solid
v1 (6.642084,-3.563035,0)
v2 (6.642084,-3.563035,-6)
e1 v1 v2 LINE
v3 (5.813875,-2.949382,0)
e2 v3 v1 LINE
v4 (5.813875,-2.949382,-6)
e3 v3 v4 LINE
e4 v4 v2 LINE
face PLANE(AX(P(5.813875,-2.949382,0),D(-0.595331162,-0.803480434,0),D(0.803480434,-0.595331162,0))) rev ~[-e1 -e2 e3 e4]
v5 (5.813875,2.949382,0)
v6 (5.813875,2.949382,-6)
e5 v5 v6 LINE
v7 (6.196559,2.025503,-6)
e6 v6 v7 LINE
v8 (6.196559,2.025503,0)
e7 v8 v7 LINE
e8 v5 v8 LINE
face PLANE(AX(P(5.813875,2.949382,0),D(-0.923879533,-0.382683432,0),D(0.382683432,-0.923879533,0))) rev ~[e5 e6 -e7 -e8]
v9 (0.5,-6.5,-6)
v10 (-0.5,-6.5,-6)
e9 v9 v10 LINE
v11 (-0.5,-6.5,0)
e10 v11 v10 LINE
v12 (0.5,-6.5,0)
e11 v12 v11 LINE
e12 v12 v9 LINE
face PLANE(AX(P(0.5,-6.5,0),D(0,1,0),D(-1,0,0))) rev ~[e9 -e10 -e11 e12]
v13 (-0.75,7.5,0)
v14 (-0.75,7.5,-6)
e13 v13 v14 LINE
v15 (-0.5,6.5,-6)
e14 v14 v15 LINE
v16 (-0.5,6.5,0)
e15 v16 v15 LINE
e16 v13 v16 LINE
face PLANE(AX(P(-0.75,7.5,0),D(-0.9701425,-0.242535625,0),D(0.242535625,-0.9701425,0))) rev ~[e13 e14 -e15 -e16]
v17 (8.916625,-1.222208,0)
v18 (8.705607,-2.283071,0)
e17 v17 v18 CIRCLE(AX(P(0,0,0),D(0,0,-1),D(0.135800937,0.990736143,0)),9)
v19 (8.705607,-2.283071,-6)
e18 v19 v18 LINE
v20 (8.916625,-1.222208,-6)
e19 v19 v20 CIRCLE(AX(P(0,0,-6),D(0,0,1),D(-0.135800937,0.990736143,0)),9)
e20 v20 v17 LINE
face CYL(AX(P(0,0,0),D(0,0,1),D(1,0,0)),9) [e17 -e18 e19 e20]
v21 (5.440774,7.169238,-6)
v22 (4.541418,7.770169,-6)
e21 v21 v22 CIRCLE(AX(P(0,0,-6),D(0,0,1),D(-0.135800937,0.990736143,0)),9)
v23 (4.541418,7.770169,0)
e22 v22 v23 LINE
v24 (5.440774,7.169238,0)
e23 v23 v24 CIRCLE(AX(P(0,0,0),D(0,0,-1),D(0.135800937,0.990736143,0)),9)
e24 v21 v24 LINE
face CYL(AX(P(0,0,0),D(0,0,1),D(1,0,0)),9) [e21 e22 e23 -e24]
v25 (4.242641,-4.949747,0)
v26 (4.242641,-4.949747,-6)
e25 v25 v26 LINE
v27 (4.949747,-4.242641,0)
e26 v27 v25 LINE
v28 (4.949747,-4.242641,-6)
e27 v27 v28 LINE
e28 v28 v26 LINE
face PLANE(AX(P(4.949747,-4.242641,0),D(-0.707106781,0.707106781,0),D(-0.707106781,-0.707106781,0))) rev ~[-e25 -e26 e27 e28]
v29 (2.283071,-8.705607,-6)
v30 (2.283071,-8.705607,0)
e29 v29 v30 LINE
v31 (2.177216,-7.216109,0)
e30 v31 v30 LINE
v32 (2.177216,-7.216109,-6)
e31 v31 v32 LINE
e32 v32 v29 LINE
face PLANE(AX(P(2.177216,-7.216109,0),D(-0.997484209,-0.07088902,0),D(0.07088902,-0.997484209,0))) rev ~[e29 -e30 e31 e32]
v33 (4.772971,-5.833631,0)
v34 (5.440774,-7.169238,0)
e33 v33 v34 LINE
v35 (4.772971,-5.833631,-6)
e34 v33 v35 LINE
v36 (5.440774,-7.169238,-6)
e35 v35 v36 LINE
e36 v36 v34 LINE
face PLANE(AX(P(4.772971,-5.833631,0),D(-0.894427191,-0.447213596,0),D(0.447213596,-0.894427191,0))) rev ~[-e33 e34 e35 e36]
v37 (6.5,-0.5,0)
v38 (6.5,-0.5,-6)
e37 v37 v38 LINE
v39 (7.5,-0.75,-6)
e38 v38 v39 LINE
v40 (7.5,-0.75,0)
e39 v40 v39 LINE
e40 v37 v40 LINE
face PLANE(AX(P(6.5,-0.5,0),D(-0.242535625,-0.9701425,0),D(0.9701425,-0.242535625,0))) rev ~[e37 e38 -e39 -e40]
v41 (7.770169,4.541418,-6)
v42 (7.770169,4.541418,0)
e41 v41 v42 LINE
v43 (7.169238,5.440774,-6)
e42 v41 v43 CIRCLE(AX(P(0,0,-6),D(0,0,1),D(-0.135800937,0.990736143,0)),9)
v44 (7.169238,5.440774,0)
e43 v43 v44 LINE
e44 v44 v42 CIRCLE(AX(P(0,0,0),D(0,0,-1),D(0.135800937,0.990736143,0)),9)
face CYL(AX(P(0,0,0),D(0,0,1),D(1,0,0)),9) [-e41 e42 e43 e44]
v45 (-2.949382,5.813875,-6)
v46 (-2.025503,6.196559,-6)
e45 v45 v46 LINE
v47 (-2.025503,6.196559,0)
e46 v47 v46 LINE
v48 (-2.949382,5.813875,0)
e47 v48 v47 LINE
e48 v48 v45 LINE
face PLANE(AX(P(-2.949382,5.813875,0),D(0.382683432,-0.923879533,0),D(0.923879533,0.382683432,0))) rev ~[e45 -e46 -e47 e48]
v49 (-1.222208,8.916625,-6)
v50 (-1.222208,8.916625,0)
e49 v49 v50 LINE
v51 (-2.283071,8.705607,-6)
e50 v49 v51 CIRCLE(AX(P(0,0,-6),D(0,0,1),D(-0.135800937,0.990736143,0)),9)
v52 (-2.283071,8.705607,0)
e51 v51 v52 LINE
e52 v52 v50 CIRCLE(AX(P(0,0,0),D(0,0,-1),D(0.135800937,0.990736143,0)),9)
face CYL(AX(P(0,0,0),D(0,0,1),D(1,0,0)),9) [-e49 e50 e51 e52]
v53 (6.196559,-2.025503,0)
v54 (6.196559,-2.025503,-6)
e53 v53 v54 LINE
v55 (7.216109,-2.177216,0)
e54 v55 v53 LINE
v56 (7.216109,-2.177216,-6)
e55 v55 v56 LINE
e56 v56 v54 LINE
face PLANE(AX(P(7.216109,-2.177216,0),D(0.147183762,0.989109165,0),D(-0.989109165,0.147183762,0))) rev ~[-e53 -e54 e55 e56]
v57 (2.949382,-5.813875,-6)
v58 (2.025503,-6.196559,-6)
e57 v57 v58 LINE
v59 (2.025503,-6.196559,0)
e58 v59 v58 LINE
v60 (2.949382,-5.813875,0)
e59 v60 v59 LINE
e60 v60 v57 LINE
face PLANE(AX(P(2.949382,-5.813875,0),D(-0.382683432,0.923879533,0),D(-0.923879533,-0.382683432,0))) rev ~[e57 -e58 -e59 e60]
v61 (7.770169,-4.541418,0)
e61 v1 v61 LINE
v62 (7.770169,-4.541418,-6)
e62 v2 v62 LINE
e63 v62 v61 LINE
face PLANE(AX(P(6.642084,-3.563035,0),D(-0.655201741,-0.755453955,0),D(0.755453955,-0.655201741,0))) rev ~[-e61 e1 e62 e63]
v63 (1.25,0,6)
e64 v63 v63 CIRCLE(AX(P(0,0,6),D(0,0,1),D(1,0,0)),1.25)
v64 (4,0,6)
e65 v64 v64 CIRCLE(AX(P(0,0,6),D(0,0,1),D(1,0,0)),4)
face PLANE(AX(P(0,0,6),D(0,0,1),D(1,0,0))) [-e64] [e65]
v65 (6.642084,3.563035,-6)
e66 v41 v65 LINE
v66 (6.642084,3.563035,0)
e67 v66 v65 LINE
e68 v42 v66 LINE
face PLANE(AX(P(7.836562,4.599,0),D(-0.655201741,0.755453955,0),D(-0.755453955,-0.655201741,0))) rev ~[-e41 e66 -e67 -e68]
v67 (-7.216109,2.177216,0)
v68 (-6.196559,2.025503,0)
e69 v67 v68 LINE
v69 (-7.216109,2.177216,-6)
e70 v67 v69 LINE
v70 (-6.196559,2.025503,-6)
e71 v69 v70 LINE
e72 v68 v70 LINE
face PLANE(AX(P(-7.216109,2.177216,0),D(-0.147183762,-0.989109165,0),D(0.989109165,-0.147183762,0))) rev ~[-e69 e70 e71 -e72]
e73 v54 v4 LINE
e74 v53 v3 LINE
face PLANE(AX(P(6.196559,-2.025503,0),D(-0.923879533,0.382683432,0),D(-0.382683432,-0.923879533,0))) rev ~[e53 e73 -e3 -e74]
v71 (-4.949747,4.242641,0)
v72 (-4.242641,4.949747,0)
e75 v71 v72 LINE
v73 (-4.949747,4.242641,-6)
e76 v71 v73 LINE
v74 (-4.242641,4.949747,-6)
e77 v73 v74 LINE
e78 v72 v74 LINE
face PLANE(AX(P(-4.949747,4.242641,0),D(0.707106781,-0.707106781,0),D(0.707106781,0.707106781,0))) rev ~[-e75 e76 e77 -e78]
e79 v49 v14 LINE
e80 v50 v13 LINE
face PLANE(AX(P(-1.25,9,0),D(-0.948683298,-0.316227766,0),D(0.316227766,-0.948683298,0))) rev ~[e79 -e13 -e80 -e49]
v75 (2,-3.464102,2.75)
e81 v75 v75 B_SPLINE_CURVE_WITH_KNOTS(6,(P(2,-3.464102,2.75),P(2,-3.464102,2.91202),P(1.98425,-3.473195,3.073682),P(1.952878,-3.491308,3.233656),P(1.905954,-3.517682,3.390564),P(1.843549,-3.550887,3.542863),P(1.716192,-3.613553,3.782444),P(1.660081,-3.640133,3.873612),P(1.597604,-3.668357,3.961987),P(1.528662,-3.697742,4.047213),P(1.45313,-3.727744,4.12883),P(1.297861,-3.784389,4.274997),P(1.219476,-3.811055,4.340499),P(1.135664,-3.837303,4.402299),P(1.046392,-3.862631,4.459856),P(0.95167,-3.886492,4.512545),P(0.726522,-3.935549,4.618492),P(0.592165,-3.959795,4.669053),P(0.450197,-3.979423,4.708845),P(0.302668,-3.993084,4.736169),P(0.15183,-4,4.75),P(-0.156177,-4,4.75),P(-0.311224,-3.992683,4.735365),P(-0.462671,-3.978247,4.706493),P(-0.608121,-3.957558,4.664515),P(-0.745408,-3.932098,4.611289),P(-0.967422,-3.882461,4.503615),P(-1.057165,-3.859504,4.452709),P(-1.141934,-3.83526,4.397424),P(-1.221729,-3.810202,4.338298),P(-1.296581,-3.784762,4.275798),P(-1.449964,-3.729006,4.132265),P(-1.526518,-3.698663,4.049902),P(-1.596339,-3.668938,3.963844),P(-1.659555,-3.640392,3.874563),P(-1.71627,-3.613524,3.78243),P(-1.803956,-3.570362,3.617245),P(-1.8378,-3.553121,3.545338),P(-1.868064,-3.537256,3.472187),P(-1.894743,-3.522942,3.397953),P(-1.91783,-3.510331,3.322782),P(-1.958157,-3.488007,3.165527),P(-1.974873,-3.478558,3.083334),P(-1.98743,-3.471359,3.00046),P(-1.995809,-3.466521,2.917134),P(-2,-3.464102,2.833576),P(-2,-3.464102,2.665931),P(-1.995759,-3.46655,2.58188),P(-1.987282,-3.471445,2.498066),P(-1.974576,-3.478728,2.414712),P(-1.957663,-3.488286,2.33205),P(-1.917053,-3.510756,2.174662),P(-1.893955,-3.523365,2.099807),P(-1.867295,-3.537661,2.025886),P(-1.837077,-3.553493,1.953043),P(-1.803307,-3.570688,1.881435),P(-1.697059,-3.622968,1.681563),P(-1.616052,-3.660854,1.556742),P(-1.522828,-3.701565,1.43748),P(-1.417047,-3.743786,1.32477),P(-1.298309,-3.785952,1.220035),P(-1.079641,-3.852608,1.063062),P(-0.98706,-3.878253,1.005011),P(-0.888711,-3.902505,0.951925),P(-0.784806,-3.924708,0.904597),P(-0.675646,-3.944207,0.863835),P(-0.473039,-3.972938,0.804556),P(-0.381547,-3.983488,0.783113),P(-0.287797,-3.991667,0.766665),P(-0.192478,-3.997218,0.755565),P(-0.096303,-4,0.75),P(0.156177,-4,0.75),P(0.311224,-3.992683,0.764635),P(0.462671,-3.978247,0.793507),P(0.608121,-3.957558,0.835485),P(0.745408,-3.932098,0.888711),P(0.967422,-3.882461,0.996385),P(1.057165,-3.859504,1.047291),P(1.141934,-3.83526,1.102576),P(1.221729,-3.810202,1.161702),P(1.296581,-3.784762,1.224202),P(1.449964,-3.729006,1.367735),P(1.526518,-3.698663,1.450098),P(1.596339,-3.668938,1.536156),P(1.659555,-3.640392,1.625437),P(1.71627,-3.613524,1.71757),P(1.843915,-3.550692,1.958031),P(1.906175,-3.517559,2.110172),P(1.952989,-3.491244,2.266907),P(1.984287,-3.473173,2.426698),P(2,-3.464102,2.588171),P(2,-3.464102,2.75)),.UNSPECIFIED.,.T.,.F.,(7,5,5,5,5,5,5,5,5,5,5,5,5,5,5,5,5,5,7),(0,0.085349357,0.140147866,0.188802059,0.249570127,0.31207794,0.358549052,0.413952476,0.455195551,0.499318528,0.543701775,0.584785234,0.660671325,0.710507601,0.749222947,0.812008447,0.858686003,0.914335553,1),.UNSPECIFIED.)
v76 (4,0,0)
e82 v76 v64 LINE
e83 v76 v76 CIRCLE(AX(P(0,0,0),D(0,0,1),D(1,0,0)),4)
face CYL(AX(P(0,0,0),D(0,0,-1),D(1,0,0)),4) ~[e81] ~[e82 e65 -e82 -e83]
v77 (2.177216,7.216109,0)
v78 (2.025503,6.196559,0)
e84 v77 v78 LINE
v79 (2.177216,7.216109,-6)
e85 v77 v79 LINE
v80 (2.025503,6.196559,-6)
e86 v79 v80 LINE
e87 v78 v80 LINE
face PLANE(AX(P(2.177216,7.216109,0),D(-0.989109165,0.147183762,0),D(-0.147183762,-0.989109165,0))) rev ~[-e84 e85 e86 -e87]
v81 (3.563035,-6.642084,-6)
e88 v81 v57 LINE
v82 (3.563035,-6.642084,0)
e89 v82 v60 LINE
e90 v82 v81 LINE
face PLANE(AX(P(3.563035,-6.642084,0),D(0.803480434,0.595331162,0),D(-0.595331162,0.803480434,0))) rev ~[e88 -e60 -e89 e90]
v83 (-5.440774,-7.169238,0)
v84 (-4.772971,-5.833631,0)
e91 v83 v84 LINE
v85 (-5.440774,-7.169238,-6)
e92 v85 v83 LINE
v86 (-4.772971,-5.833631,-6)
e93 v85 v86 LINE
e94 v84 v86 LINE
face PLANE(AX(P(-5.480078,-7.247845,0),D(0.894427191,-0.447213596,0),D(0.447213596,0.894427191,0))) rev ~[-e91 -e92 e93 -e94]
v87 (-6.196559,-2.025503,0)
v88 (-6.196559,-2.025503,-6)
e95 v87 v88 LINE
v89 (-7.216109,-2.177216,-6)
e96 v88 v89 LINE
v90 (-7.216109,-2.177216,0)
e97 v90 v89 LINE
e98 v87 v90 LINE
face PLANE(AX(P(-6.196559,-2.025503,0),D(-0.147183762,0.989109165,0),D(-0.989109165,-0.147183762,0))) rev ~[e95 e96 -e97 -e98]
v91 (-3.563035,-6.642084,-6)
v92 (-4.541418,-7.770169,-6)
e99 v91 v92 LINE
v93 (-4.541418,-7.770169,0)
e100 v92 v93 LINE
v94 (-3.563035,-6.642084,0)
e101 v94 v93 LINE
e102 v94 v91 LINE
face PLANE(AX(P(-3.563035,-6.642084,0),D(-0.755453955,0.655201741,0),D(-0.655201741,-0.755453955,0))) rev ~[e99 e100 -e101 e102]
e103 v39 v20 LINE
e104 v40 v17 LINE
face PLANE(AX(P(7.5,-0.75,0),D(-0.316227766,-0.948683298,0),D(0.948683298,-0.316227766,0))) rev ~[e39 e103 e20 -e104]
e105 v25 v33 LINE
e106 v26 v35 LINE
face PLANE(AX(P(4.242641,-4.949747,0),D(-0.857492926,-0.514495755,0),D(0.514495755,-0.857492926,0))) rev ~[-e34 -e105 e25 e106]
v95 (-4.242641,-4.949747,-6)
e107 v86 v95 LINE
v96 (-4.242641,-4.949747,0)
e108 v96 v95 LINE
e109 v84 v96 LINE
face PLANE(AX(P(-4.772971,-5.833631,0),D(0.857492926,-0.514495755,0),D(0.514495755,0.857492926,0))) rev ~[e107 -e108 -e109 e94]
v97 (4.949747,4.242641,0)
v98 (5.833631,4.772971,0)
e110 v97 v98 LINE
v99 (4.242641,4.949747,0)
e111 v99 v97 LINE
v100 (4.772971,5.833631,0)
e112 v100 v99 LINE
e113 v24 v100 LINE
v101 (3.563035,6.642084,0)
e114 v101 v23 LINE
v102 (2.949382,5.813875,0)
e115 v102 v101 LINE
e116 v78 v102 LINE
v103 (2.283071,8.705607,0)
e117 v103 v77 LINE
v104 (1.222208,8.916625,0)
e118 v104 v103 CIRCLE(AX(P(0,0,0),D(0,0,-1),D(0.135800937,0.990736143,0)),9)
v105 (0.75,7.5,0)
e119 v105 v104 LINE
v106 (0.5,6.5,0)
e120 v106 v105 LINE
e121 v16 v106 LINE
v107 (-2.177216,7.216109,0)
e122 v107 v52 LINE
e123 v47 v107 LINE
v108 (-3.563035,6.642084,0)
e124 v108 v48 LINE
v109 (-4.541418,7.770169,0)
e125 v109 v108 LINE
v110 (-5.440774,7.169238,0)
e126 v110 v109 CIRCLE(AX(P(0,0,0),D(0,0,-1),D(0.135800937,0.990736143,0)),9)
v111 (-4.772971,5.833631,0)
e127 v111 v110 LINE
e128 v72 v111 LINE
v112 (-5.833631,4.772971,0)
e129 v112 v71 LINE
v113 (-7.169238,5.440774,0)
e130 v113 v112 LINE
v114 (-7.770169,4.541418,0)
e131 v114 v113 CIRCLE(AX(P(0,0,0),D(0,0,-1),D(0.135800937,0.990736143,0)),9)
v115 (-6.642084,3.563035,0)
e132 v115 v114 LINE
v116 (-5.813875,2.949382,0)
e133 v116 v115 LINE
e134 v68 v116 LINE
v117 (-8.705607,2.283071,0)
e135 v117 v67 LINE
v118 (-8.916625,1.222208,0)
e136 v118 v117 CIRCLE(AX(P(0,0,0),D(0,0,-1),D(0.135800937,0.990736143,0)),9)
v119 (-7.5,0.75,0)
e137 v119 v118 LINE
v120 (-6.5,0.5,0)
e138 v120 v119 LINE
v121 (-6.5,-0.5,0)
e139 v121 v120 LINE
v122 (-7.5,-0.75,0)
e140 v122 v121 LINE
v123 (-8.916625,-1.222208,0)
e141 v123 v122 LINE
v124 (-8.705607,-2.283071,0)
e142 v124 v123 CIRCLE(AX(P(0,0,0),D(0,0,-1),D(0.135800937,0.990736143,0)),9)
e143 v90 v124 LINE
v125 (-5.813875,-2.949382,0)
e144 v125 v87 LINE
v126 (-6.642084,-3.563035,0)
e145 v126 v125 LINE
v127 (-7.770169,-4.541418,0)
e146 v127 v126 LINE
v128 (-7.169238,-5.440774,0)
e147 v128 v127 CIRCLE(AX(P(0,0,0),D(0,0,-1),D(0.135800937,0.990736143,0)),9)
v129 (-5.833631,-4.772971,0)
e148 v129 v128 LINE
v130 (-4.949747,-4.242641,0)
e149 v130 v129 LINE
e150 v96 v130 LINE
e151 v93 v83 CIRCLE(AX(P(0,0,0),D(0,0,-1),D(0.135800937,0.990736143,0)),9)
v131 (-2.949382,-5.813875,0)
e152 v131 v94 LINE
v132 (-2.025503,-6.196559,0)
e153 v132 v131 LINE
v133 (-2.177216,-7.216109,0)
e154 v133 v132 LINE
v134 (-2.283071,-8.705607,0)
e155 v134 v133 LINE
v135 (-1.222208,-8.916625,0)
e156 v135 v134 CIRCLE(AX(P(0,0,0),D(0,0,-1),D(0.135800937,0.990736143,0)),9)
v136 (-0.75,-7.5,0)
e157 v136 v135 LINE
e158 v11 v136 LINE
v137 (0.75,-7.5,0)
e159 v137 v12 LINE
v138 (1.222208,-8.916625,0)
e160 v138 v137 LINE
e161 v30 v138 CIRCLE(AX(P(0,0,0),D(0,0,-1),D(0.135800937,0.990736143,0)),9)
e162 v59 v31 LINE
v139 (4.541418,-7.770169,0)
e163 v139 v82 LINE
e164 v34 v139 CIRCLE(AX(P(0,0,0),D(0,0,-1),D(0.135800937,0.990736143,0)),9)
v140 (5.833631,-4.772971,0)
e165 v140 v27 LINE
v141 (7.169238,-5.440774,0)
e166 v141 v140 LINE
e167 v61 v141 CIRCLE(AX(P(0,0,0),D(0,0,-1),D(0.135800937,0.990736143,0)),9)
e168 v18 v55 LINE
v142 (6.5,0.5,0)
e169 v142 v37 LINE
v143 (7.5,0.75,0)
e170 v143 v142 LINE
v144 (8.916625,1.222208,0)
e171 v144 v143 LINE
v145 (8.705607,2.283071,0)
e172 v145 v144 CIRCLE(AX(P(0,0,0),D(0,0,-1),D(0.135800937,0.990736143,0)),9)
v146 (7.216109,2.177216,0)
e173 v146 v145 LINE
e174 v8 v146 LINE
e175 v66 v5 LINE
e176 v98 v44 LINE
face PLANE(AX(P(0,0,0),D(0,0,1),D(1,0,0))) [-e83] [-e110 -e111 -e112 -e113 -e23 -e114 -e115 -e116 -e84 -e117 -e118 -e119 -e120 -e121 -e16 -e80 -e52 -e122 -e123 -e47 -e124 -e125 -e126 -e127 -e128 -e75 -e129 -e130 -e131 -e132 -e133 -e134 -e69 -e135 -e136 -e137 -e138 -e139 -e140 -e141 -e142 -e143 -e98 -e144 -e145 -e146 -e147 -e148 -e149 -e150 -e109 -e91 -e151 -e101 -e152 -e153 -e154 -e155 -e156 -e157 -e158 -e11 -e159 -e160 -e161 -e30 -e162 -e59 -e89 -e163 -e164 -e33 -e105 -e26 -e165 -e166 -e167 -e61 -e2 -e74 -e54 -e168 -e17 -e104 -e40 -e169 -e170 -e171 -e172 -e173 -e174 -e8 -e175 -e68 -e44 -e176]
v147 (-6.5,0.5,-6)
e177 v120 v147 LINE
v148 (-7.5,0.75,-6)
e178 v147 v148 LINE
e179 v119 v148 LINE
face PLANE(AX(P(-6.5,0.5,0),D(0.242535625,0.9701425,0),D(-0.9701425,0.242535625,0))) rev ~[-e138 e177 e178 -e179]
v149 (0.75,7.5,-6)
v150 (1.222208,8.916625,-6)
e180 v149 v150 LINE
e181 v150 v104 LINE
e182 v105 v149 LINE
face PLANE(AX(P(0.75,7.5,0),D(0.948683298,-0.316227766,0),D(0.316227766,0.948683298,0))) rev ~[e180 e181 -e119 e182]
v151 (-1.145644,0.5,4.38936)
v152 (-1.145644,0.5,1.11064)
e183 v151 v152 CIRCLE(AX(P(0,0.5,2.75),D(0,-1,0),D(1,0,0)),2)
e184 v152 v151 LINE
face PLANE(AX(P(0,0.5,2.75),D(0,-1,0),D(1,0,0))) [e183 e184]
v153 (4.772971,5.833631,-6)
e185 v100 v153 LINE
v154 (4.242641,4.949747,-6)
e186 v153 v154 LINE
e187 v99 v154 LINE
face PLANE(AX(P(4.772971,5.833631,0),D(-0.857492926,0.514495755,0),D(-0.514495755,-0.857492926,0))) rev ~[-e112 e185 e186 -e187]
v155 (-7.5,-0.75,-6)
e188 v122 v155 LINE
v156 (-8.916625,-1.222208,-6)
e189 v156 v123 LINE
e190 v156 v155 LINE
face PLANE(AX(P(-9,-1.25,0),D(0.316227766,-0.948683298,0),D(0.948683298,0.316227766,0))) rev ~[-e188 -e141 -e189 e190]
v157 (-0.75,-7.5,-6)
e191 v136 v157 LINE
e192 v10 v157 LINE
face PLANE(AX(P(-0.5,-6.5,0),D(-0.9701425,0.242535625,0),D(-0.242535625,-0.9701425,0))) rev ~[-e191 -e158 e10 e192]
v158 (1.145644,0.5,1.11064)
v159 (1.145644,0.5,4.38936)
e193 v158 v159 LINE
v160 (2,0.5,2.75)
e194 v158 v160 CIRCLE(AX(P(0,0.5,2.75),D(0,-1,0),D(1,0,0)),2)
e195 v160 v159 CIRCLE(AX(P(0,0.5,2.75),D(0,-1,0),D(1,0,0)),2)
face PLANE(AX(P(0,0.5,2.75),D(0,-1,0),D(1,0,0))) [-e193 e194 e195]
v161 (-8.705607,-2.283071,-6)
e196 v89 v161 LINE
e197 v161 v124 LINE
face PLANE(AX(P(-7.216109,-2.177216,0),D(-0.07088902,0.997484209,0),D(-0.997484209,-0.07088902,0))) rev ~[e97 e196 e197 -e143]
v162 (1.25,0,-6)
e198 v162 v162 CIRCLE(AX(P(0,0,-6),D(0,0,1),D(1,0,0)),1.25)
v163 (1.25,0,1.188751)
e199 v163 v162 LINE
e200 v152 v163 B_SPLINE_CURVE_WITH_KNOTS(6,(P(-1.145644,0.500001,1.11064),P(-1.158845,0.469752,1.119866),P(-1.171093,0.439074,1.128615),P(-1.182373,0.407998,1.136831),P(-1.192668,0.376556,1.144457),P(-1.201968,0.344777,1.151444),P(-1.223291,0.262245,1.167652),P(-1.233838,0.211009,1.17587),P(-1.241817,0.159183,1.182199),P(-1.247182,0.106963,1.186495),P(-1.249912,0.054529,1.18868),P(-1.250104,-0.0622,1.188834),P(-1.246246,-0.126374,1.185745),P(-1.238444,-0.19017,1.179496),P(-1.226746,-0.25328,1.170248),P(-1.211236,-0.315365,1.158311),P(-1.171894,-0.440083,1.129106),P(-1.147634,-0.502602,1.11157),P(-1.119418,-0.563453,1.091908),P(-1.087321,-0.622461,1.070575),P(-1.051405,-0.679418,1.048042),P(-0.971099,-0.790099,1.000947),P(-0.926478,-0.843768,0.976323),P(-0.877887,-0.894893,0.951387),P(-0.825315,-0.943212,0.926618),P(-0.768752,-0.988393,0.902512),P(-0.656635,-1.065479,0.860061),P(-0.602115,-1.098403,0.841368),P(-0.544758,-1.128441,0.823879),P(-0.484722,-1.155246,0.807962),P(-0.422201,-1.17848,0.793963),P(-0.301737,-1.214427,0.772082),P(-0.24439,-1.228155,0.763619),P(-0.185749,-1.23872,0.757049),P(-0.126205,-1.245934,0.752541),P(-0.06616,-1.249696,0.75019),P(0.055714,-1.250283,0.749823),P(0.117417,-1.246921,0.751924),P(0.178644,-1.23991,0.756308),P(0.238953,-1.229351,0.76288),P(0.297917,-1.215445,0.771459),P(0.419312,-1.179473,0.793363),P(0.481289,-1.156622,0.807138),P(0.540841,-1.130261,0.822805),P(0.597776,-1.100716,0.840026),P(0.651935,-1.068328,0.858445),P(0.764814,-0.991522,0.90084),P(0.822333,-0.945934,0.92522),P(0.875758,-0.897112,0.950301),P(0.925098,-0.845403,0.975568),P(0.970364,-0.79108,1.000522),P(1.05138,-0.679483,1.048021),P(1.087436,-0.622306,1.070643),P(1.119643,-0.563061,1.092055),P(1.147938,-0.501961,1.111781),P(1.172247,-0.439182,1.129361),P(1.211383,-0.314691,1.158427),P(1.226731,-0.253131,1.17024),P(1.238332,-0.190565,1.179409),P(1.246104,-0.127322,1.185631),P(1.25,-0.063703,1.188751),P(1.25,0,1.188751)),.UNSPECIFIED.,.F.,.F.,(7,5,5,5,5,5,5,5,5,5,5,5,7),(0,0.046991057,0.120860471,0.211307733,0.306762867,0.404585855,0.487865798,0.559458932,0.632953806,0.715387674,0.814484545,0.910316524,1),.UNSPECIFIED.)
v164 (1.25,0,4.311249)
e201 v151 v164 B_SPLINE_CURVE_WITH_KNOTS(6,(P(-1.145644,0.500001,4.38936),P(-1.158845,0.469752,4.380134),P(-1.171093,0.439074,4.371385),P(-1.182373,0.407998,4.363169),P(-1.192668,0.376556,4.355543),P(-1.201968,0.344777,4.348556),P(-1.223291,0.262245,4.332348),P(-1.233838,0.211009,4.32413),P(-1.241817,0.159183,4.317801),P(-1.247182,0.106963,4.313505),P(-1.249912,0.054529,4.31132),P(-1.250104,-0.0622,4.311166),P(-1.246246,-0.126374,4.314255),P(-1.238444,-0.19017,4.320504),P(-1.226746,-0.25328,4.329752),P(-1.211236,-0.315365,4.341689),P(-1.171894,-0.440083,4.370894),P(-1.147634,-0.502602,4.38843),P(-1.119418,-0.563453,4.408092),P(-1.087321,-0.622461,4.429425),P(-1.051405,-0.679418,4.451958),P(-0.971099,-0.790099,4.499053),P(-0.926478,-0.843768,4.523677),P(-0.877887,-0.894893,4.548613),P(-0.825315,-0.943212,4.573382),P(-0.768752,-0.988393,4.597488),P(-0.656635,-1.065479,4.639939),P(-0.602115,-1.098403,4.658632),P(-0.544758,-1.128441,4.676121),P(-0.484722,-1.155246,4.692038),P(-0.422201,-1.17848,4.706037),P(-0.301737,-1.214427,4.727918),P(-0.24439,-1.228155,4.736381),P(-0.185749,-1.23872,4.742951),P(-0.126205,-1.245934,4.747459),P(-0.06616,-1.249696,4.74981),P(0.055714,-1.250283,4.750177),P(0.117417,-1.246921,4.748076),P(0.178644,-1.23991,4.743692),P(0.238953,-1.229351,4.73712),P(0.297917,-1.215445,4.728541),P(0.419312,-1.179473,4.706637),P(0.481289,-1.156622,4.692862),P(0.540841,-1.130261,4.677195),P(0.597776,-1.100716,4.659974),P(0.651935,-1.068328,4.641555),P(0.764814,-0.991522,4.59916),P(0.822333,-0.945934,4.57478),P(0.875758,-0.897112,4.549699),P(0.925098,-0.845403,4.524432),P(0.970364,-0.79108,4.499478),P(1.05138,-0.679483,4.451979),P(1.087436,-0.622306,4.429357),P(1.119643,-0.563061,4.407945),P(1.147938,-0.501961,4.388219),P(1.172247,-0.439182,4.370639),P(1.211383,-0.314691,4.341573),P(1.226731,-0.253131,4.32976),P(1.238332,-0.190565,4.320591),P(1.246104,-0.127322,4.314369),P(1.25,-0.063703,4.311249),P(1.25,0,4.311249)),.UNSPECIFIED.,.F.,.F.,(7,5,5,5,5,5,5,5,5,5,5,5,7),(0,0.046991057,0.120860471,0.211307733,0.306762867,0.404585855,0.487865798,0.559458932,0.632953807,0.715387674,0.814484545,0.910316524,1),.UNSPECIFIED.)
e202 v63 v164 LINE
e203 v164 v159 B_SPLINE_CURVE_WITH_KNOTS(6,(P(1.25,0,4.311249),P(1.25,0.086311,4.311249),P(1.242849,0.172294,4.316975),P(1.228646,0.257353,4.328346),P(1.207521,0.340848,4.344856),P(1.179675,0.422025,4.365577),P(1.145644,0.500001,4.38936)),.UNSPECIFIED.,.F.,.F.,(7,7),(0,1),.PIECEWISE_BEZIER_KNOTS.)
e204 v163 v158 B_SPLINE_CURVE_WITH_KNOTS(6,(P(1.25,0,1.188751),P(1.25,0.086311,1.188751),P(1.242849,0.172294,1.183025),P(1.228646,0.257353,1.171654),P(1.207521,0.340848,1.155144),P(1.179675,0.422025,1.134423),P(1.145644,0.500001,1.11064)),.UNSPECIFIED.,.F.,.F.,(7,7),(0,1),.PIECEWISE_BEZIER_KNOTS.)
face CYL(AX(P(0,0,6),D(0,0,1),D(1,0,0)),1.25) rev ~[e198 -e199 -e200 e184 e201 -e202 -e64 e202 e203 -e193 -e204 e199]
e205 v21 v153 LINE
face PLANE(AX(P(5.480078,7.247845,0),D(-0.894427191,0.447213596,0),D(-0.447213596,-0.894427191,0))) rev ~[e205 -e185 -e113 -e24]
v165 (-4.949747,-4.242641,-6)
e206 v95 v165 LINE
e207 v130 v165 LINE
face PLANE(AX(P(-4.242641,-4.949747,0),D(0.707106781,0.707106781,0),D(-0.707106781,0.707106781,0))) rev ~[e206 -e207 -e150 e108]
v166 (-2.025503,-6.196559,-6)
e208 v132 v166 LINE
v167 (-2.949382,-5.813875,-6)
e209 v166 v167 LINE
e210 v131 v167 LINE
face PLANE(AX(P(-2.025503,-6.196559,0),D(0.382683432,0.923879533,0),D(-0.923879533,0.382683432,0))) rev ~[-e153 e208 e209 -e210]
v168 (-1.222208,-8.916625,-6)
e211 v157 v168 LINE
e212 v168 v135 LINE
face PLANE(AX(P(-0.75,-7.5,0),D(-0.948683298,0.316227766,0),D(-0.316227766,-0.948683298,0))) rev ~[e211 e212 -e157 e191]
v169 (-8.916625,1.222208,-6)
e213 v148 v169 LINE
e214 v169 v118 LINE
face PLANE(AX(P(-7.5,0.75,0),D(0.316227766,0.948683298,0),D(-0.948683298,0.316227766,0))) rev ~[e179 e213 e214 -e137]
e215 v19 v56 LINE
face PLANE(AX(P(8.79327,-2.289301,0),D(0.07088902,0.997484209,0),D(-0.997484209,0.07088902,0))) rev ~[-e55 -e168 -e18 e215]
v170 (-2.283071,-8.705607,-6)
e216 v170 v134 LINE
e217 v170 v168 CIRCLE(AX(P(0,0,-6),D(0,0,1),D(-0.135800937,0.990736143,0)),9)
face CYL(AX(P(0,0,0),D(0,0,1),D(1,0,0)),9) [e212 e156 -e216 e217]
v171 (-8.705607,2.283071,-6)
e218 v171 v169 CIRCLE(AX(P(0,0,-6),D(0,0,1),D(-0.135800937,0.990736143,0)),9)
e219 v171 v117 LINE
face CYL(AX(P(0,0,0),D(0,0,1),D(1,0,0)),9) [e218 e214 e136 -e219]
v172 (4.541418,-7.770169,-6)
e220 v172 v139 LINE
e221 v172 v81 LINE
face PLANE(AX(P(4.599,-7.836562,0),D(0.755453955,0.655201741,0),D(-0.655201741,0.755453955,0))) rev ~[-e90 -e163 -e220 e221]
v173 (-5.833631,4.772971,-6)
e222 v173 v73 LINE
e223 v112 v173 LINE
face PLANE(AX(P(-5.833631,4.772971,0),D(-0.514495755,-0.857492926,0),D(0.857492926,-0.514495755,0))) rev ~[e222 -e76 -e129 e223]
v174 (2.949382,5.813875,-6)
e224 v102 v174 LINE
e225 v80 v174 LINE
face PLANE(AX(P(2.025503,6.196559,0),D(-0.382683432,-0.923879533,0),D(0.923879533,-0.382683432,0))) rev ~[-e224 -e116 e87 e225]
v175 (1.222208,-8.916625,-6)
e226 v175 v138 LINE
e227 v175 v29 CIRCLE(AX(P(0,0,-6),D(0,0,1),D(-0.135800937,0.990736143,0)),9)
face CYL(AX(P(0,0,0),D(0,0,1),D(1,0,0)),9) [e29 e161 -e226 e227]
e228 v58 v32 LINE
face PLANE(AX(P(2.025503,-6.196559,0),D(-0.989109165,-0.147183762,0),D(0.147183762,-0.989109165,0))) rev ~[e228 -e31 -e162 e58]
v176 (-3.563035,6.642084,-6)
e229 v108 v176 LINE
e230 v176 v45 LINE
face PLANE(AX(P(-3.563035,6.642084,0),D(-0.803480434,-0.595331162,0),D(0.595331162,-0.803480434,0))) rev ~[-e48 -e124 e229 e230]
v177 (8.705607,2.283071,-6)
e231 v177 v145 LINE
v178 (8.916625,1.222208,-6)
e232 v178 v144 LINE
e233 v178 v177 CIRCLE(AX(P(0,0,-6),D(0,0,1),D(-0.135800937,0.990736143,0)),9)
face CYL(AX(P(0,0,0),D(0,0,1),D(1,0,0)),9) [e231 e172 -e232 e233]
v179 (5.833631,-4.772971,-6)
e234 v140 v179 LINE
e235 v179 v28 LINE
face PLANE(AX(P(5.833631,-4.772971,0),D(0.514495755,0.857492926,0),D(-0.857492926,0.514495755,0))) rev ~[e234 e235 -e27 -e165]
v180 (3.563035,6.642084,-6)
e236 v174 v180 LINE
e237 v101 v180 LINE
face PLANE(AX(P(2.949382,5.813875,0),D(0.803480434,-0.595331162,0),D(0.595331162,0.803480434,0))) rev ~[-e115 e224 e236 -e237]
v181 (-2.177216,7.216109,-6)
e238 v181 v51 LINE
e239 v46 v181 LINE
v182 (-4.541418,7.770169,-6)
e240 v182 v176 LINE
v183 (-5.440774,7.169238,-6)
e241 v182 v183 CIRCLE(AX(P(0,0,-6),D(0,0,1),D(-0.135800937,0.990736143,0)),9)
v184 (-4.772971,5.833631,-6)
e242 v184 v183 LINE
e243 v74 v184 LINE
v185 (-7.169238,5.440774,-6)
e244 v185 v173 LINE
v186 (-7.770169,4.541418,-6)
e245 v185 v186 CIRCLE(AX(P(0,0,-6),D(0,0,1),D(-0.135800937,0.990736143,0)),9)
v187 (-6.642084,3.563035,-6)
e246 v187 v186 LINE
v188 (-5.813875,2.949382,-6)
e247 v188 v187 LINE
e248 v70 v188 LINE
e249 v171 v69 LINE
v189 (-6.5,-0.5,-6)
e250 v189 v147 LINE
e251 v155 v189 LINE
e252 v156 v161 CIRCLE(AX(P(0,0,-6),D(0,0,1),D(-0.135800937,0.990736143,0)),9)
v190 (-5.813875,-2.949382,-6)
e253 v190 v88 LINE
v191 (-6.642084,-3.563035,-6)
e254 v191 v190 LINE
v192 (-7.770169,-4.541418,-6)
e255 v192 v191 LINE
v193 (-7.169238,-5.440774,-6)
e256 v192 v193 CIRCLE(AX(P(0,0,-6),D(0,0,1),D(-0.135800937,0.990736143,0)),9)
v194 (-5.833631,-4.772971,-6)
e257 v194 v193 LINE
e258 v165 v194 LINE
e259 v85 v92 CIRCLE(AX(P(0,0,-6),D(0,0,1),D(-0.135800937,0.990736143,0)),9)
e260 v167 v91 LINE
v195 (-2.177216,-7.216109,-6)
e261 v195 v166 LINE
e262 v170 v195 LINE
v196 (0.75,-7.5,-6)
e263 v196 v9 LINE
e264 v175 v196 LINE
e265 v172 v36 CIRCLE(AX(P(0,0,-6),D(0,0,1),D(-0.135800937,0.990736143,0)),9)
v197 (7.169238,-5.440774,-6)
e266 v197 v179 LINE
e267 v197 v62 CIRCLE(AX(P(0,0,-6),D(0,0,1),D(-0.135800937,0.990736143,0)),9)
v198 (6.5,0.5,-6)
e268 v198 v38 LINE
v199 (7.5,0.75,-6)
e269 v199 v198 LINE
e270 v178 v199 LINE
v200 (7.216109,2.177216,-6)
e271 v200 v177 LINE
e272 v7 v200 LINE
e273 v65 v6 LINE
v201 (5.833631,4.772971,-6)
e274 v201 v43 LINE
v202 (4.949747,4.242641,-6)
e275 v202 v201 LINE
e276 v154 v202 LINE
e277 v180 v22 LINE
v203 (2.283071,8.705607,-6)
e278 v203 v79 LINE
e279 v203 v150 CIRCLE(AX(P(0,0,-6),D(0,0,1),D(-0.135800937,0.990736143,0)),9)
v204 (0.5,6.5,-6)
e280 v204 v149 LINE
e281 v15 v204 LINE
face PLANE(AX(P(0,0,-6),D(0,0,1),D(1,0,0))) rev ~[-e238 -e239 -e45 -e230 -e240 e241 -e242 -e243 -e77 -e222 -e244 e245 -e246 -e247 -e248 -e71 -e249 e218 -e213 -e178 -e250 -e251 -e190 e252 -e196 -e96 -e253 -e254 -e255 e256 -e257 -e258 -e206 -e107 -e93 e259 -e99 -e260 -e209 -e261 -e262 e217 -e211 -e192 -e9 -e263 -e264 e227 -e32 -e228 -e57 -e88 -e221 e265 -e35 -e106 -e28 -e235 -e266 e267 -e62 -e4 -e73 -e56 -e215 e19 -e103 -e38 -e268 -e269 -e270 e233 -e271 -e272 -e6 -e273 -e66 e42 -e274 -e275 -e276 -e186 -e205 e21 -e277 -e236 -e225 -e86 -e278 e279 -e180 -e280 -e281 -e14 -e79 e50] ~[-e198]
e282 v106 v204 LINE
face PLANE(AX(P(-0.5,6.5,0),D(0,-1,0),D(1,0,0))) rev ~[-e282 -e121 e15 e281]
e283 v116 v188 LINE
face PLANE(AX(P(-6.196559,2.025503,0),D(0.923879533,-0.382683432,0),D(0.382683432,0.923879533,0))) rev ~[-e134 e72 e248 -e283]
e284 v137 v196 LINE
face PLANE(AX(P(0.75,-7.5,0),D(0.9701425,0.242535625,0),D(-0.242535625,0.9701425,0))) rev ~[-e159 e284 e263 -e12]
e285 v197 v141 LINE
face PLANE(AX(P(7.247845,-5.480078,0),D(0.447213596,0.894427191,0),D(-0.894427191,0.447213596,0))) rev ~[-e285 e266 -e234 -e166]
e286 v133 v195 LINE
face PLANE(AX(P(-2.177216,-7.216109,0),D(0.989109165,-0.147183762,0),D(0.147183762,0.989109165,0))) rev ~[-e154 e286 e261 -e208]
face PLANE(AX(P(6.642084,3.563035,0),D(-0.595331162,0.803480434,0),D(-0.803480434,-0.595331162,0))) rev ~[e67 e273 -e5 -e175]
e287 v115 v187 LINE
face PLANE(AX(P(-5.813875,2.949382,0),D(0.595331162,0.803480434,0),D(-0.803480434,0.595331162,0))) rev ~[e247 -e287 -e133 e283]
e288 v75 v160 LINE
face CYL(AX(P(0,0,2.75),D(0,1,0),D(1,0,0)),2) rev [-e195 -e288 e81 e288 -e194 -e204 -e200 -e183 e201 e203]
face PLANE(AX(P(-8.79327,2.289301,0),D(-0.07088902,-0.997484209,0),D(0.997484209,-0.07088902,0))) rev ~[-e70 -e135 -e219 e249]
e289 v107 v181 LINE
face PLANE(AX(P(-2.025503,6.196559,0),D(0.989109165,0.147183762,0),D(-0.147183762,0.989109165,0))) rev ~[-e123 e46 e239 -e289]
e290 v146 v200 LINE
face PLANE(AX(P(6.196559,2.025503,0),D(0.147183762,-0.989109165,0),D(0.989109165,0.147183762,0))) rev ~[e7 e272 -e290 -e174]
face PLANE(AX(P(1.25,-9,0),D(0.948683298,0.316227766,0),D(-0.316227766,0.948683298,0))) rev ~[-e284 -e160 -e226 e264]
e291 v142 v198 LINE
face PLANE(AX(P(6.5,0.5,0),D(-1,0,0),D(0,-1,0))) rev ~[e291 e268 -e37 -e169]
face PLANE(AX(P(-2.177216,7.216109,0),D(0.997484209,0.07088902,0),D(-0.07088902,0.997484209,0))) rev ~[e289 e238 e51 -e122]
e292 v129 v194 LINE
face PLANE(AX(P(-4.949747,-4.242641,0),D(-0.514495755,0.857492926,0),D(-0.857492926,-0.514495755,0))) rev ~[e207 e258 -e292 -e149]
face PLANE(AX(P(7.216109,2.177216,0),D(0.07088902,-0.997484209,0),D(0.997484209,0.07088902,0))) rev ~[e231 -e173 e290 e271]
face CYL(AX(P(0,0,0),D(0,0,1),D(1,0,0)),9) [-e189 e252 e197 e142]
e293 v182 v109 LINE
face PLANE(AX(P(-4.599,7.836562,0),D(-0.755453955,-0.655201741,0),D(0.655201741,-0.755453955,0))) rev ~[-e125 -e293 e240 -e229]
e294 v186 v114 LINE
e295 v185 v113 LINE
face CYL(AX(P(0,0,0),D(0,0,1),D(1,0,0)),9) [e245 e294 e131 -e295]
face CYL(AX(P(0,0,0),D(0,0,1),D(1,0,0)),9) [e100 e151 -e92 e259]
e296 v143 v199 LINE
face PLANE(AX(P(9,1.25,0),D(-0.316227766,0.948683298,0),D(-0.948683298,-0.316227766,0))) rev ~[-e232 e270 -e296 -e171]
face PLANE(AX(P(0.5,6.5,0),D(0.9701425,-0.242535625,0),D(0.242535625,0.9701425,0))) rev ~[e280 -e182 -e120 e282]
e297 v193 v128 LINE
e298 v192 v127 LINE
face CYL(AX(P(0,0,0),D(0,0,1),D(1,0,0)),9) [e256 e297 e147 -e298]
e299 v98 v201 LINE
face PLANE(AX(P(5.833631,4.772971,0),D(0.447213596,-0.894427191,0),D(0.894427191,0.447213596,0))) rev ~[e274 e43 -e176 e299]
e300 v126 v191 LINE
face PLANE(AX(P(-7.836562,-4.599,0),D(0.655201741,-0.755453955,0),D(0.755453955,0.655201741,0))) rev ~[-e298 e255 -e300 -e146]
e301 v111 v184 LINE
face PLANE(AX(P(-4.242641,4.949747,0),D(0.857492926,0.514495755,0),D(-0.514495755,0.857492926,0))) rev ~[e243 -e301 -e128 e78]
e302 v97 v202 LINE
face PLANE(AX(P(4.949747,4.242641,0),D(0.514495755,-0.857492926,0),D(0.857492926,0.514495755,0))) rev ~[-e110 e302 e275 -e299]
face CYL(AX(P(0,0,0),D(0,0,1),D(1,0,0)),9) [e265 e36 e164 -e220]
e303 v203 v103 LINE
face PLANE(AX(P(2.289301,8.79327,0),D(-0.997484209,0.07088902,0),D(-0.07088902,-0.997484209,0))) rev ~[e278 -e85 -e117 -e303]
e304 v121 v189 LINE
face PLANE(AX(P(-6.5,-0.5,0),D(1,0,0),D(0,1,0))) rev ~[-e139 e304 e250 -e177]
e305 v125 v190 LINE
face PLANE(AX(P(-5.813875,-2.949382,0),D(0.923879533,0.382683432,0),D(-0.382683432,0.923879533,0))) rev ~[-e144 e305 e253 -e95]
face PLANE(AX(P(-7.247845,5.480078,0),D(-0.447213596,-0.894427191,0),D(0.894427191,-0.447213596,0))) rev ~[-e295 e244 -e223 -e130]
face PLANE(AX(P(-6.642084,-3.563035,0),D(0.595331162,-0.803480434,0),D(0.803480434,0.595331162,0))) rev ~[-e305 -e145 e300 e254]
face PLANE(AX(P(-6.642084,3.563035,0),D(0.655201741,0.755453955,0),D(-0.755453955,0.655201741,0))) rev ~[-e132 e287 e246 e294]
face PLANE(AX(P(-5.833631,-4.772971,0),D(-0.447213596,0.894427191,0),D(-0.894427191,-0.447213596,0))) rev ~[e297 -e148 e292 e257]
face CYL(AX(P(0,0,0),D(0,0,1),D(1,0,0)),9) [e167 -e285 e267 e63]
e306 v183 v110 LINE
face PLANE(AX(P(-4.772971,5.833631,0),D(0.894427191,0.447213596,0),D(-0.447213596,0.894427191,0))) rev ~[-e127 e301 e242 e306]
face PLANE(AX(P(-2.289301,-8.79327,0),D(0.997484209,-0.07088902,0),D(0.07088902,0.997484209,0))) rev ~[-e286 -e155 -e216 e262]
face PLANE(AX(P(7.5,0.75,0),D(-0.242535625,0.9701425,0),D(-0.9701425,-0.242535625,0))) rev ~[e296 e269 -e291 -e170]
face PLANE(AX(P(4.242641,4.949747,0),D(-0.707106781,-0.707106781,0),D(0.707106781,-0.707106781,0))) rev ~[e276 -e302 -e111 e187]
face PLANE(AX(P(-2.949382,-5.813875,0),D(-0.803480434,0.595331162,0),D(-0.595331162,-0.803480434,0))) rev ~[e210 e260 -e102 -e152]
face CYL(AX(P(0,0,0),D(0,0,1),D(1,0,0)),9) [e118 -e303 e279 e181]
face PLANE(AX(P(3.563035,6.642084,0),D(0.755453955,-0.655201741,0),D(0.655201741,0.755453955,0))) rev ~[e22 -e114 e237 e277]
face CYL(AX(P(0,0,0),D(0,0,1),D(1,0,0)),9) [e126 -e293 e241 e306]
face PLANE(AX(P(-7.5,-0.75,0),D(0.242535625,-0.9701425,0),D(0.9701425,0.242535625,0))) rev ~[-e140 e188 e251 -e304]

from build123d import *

# Parameters (mm, degrees)
SKETCH_R           = 9
PAD_DEPTH          = 6
POCKET_DEPTH       = 6
POLARPATTERN_COUNT = 16
SKETCH002_R        = 4
PAD001_DEPTH       = 6
SKETCH004_R        = 2
POCKET002_DEPTH    = 5
POCKET003_DEPTH    = 0.5
SKETCH003_R        = 1.25
POCKET004_DEPTH    = 15


with BuildPart() as part:
    # Sketch → Pad (new body)
    with BuildSketch(Plane.XY):
        Circle(SKETCH_R)
    extrude(amount=-PAD_DEPTH)

    # Sketch001 (on Face6 of Pad) → Pocket (cut)
    with BuildSketch(Plane.XY):
        Polygon((-0.5, 6.5), (0.5, 6.5), (0.75, 7.5), (1.25, 9), (-1.25, 9), (-0.75, 7.5), align=None)
    pocket = extrude(amount=-POCKET_DEPTH, mode=Mode.SUBTRACT)

    # PolarPattern: Pocket ×16 about axis
    polarpattern_axis = Axis((0, 0, 0), (0, 0, 1))
    for i in range(1, POLARPATTERN_COUNT):
        add(pocket.rotate(polarpattern_axis, i * 360 / POLARPATTERN_COUNT), mode=Mode.SUBTRACT)

    # Sketch002 → Pad001 (join)
    with BuildSketch(Plane.XY):
        Circle(SKETCH002_R)
    extrude(amount=PAD001_DEPTH)

    # Sketch004 → Pocket002 (cut)
    with BuildSketch(Plane.XZ):
        with Locations((0, 2.75)):
            Circle(SKETCH004_R)
    extrude(amount=POCKET002_DEPTH, mode=Mode.SUBTRACT)

    # Sketch004 → Pocket003 (cut)
    with BuildSketch(Plane.XZ):
        with Locations((0, 2.75)):
            Circle(SKETCH004_R)
    extrude(amount=-POCKET003_DEPTH, mode=Mode.SUBTRACT)

    # Sketch003 (on Face100 of Pad001) → Pocket004 (cut)
    with BuildSketch(Plane.XY.offset(6)):
        Circle(SKETCH003_R)
    extrude(amount=-POCKET004_DEPTH, mode=Mode.SUBTRACT)


solid = part.part
